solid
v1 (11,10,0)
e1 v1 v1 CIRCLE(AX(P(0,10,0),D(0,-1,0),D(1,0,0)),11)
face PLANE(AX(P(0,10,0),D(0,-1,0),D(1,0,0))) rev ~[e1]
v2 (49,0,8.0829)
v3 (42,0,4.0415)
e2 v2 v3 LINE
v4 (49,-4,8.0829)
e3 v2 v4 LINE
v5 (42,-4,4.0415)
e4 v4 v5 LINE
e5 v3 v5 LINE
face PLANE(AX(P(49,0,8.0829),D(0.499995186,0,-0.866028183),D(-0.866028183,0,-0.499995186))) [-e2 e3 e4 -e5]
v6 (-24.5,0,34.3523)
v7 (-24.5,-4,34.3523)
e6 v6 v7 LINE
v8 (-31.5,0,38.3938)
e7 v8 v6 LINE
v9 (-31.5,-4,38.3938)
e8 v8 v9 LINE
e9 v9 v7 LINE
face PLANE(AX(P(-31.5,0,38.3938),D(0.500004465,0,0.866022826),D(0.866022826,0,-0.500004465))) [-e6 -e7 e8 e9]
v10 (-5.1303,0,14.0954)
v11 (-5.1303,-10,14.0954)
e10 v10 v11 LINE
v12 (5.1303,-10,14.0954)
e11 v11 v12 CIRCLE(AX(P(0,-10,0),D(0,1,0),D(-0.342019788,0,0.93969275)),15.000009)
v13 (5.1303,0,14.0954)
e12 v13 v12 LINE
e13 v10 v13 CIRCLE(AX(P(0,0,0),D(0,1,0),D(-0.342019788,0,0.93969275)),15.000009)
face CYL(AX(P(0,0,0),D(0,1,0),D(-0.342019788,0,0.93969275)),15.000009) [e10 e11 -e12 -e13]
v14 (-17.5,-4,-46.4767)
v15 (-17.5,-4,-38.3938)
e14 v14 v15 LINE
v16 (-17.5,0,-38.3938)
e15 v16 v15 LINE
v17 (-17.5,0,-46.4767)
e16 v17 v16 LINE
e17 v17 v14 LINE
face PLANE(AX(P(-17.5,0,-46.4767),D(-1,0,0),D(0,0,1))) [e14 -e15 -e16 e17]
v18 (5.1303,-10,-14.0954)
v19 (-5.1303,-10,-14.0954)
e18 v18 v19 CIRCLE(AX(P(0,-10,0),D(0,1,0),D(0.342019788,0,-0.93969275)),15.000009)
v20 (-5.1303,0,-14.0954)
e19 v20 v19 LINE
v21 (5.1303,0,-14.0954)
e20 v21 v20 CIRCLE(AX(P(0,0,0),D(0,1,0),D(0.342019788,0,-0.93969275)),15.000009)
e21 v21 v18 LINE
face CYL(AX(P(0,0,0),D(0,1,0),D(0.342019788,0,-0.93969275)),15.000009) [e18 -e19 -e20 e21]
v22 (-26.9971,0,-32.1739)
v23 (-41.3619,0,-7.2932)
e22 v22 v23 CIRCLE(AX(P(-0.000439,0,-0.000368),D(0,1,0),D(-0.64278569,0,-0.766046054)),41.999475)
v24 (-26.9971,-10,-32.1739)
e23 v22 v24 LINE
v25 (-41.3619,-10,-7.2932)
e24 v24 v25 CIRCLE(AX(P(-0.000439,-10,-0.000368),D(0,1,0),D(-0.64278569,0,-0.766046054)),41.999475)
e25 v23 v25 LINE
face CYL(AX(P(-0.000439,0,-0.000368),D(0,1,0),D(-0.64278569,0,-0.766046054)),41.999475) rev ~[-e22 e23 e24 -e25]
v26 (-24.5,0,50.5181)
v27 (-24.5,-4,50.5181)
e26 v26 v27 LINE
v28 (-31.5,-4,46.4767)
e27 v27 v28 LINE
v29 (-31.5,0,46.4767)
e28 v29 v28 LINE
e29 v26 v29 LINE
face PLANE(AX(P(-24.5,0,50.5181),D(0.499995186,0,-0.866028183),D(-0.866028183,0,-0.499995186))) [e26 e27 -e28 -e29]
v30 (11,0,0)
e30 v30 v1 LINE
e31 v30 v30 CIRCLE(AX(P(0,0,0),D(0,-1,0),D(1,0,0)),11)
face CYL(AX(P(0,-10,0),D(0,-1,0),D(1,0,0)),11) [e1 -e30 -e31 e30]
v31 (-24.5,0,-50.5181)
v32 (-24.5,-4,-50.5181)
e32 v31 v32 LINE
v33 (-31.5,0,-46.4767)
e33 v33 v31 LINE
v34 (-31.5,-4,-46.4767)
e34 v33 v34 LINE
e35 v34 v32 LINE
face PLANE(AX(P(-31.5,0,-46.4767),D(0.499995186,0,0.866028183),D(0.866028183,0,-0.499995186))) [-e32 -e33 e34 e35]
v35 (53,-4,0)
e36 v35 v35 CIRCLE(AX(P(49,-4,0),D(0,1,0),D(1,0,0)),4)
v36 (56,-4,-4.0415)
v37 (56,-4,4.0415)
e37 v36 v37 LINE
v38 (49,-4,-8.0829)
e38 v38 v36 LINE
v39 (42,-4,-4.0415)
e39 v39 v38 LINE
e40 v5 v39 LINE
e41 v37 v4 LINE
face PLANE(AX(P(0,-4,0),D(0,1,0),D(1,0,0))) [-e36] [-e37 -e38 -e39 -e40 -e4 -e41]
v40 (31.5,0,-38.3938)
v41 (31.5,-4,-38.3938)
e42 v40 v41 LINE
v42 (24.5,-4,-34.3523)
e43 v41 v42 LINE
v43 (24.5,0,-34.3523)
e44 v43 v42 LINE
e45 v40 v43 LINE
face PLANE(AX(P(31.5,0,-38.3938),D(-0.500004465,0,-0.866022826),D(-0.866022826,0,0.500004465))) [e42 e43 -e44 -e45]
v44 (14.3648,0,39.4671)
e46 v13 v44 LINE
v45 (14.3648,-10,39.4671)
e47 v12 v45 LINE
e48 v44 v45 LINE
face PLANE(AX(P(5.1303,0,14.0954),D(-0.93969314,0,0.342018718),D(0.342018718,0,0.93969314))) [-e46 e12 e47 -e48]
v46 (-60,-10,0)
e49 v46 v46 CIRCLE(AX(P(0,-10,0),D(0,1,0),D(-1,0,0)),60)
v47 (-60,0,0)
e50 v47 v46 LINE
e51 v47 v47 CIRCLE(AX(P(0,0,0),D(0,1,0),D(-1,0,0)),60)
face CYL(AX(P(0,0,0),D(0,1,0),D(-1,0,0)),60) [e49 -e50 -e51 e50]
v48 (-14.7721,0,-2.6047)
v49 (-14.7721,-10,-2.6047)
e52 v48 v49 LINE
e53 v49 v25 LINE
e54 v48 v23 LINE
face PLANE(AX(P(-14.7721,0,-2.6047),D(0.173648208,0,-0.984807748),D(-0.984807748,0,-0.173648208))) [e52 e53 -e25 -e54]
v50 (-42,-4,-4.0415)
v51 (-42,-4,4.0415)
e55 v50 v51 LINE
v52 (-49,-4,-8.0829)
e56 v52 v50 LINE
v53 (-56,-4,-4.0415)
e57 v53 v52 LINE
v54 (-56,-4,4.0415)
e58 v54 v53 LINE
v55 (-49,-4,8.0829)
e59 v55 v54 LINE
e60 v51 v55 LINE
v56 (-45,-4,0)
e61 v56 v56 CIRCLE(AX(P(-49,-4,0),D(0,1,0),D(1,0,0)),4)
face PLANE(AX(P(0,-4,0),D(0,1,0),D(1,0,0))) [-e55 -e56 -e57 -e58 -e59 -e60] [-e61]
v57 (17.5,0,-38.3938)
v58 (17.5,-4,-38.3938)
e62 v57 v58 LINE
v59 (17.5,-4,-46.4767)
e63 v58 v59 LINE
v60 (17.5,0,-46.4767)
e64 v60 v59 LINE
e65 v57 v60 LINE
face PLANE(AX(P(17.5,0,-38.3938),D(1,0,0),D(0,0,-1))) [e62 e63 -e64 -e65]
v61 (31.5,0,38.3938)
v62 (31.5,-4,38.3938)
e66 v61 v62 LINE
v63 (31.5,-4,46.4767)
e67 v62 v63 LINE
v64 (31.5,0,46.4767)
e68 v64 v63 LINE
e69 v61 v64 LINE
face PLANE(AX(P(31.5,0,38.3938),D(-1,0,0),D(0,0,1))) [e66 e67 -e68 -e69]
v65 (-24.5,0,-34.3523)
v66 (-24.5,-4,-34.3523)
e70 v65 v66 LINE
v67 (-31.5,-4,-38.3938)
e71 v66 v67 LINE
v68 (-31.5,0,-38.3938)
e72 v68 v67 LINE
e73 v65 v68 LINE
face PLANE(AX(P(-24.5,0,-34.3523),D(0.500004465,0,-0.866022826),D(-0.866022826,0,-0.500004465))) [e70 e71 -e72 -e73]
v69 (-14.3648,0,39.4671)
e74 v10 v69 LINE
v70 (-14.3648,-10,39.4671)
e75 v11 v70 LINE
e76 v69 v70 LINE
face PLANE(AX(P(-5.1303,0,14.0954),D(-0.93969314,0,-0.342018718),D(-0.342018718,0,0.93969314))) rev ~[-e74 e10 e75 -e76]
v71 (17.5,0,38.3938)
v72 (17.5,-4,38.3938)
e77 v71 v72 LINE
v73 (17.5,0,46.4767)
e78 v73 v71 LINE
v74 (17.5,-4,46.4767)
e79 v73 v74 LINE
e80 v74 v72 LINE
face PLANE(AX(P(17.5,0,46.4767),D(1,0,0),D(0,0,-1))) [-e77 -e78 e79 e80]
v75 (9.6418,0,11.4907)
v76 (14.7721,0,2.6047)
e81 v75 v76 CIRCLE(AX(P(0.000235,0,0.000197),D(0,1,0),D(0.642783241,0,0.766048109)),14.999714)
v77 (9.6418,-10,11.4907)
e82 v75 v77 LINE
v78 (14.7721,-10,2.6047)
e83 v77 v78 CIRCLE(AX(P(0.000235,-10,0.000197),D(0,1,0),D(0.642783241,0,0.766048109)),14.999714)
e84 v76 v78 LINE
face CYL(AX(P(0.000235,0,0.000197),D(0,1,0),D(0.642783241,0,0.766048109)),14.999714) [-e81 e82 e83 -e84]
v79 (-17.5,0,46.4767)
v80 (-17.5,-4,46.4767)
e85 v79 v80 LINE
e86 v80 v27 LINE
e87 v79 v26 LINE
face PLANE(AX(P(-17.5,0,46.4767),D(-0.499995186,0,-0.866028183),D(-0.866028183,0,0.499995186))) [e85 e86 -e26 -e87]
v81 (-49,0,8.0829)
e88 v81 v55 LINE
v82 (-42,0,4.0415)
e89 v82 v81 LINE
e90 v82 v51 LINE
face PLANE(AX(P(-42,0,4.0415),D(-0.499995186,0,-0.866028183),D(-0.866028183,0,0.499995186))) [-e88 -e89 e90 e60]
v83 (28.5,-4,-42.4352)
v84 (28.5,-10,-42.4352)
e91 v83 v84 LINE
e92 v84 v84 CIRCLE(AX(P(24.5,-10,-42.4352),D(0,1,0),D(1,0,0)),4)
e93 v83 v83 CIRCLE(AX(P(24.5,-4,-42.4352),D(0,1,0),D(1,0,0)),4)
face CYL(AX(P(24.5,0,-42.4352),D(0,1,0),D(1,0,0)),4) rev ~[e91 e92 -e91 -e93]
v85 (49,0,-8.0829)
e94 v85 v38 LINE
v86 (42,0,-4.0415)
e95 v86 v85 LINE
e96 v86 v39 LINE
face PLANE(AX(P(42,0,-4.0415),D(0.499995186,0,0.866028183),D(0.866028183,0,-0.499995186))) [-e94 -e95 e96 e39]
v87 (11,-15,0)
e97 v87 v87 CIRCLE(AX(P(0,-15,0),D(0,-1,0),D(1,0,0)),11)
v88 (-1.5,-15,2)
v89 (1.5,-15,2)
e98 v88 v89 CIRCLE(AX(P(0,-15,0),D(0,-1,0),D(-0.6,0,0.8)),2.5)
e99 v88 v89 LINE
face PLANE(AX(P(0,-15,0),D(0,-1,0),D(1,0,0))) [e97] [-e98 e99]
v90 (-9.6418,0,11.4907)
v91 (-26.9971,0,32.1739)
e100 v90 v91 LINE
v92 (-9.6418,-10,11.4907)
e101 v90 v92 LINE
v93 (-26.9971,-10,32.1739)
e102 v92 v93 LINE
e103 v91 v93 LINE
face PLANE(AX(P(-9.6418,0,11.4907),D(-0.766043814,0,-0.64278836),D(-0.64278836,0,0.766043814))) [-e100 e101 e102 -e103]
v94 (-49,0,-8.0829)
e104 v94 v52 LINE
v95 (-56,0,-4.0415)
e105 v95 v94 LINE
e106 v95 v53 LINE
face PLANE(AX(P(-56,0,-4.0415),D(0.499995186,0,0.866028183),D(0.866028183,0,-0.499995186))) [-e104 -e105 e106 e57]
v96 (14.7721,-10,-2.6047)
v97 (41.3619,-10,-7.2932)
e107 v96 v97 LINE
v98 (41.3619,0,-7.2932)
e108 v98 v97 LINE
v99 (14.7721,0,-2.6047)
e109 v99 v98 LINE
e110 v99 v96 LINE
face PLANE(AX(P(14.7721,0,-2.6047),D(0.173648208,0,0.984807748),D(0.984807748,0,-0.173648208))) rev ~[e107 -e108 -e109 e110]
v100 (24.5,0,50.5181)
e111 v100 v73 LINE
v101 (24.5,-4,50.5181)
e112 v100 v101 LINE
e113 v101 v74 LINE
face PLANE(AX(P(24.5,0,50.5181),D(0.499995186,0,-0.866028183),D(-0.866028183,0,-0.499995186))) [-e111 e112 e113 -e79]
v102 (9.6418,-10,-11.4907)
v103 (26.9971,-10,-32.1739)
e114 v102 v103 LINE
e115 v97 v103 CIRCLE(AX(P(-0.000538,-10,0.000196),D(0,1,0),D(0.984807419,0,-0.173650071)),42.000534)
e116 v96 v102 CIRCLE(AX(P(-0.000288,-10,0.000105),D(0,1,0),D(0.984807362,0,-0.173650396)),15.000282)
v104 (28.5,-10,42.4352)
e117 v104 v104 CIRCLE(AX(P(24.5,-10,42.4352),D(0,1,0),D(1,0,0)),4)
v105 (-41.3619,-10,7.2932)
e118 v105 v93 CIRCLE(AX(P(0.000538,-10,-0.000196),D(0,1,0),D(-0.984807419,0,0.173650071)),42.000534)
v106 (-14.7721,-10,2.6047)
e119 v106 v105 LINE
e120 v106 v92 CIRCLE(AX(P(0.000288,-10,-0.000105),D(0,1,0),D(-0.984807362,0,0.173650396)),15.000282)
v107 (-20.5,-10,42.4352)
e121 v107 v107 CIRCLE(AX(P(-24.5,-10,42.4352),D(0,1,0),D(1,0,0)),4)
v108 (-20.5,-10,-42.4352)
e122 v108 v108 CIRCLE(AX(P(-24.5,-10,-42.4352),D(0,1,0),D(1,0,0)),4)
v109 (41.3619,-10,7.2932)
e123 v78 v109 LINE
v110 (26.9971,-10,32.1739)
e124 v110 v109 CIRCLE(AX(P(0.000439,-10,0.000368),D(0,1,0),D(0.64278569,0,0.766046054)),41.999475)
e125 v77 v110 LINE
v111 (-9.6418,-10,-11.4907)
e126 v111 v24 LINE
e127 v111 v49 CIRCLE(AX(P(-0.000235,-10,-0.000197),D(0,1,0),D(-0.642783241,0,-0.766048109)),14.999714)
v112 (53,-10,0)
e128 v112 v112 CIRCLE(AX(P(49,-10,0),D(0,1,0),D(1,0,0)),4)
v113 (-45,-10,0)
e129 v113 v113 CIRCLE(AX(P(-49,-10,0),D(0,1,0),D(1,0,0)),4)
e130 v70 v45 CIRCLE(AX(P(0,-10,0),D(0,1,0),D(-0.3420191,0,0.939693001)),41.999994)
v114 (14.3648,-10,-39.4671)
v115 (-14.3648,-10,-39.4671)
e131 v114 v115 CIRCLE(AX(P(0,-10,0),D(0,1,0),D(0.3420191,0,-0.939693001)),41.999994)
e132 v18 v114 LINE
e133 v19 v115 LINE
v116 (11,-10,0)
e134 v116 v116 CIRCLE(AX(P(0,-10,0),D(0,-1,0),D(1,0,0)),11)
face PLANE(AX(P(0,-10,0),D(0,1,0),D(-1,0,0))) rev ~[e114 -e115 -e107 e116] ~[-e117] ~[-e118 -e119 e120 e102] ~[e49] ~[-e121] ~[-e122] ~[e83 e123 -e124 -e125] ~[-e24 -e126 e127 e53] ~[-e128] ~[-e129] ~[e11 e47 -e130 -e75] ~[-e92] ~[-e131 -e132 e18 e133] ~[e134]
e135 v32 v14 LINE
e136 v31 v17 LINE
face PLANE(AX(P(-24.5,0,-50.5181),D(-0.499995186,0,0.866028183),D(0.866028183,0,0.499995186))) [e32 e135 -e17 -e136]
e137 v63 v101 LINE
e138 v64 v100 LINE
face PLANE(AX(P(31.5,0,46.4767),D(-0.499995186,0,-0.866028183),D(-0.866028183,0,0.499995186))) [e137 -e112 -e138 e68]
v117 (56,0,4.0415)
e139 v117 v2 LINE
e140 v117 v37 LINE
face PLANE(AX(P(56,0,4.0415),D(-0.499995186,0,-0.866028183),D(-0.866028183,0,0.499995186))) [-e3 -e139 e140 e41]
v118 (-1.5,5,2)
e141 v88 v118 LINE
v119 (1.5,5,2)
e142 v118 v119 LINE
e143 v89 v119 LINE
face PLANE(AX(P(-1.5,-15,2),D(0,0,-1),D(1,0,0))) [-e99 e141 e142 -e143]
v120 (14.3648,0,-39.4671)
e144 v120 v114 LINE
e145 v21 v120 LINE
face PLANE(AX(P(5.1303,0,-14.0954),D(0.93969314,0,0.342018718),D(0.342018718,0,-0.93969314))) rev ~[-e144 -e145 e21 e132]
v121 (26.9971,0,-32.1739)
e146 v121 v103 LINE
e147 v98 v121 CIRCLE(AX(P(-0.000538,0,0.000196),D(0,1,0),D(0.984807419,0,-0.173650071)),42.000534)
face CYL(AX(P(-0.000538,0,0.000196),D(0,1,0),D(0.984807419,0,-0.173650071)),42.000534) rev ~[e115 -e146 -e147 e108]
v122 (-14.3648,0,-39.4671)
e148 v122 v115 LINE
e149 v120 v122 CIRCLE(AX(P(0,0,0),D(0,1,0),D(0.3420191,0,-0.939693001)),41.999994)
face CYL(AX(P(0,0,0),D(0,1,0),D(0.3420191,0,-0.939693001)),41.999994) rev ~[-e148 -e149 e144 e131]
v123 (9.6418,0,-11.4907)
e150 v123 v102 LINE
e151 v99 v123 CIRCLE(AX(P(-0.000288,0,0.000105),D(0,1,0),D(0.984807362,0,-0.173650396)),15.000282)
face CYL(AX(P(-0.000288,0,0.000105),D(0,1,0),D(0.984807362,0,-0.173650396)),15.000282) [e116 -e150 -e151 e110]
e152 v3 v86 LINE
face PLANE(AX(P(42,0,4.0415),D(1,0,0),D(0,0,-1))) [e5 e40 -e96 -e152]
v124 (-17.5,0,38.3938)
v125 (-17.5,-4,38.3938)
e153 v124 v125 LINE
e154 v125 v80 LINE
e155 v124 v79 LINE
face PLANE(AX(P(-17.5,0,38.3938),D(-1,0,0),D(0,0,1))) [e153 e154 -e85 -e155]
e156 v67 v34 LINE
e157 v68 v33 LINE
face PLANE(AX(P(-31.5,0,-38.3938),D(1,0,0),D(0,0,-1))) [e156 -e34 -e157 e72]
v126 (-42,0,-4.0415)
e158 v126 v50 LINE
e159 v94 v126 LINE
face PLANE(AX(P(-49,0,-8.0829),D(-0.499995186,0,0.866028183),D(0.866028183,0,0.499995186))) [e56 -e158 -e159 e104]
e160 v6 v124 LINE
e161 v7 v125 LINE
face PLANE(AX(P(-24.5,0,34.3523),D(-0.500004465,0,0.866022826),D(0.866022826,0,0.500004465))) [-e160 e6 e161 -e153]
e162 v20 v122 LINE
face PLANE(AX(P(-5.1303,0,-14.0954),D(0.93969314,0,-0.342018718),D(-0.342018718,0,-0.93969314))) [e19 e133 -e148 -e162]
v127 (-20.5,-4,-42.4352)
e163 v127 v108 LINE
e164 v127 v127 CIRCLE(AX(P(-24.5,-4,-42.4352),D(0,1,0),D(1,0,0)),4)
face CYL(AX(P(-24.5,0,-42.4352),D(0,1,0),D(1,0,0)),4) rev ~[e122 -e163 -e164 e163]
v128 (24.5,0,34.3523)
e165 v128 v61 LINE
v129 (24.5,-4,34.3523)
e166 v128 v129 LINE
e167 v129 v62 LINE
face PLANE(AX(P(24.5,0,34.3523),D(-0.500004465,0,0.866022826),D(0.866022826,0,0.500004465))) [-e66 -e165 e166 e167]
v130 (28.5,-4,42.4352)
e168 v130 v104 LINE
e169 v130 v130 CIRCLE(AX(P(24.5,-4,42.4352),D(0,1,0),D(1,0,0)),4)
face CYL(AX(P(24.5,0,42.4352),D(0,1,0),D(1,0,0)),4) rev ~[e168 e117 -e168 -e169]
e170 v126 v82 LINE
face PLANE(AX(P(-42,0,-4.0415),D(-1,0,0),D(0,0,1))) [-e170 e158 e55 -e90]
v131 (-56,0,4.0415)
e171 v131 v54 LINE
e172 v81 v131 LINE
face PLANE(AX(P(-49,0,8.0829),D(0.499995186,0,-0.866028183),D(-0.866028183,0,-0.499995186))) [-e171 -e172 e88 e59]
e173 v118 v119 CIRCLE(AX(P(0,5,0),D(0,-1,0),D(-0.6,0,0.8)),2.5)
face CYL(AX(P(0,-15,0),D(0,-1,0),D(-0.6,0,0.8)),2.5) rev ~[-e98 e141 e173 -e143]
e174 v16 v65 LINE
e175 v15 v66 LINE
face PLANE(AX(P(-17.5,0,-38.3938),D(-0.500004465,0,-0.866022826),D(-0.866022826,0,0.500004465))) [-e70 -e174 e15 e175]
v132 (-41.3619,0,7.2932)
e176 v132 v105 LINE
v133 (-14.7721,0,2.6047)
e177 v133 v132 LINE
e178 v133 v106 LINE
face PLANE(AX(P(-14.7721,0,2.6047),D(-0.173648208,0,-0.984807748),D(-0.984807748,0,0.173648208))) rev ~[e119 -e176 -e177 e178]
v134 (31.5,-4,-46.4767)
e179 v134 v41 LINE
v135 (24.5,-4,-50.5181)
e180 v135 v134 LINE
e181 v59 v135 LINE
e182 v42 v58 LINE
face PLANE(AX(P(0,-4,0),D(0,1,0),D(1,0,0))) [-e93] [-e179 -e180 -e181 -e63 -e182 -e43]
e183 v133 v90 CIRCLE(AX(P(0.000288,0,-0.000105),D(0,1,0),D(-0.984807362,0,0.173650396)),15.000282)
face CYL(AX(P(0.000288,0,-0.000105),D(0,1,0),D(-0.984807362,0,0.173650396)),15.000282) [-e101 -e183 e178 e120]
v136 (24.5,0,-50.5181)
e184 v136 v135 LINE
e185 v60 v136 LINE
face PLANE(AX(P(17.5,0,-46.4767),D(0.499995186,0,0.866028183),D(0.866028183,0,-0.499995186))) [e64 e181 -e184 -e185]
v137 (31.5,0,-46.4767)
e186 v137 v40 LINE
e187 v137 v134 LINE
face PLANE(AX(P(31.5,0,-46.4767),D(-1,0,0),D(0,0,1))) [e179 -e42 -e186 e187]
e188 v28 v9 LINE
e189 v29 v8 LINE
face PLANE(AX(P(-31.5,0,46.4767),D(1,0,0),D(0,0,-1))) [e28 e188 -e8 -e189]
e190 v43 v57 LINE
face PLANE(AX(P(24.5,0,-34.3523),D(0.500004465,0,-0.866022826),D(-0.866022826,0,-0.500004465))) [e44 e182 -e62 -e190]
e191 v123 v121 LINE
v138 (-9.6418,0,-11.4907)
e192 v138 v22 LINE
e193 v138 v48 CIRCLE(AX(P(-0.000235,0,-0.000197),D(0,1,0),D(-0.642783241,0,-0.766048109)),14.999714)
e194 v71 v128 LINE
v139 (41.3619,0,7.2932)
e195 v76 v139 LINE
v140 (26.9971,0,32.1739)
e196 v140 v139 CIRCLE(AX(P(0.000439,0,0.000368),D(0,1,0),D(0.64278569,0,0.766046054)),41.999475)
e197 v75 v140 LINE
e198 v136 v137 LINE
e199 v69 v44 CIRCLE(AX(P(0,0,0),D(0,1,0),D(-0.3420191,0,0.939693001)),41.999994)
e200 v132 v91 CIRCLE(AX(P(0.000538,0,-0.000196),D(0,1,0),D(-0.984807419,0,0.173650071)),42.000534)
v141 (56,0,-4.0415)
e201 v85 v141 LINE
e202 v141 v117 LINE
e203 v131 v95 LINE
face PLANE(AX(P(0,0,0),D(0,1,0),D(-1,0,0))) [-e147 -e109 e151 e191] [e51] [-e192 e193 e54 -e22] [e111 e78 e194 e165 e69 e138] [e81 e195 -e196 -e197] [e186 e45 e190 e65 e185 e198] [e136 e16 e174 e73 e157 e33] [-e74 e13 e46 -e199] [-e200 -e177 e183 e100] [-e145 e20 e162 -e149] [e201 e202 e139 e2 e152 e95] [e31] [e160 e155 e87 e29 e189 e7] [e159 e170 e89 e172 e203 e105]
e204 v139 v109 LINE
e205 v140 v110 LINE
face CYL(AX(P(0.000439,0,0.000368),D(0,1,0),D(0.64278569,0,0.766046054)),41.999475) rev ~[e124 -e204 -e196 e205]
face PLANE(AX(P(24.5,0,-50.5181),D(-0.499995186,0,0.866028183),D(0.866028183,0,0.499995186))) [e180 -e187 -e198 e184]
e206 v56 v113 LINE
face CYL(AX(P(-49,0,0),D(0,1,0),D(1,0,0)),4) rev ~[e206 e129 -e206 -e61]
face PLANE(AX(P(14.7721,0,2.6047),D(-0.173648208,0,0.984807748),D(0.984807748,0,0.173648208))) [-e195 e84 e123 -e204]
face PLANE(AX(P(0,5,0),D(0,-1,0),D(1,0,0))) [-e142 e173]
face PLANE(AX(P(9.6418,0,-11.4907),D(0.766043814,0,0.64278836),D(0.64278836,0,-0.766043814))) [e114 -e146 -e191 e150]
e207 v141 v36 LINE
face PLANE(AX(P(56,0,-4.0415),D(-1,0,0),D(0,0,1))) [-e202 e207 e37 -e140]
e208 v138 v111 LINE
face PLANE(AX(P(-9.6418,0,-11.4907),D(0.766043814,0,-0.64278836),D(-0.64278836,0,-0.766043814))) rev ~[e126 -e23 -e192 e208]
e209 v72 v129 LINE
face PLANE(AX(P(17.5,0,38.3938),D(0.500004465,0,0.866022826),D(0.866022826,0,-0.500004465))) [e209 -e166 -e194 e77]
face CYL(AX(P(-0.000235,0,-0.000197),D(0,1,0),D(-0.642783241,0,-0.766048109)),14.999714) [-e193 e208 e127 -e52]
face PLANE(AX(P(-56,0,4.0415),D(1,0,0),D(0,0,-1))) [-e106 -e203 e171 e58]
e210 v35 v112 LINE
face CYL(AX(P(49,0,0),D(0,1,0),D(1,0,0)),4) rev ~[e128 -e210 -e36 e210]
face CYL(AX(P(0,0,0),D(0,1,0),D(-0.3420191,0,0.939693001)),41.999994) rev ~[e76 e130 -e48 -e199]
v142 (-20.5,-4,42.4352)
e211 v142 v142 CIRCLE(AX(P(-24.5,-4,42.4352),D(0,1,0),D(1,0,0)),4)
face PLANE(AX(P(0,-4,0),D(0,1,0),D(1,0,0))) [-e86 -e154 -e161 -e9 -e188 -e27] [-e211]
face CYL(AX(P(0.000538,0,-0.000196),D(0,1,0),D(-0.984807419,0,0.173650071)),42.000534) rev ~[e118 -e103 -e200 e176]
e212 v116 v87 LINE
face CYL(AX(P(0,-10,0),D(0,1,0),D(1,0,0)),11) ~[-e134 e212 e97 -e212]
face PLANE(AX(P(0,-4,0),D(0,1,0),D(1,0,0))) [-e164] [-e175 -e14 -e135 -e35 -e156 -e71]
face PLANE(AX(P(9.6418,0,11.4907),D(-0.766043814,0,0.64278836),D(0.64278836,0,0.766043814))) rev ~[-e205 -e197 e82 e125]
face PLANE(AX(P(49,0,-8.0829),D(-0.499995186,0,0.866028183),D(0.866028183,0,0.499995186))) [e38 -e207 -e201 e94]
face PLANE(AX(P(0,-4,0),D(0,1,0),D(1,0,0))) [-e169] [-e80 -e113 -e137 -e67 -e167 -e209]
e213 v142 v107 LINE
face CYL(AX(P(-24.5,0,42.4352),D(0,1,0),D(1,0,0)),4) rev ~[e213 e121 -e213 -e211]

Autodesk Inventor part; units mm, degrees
ref_plane "YZ Plane" through (0, 0, 0) normal (1, 0, 0) x (0, 1, 0)
ref_plane "XZ Plane" through (0, 0, 0) normal (0, 1, 0) x (-1, 0, 0)
ref_plane "XY Plane" through (0, 0, 0) normal (0, 0, 1) x (1, 0, 0)
sketch "Sketch1" plane through (0, 0, 0) normal (0, 1, 0) x (-1, 0, 0)
  circle A0 centre (0, 0) radius 60
  line L0 (14.7721, 2.6047) -> (41.3619, 7.2932)
  line L1 (14.7721, -2.6047) -> (41.3619, -7.2932)
  line L2 (0, 0) -> (115.9423, 0) construction
  line L3 (0, 0) -> (87.3255, -15.3978) construction
  line L4 (5.1303, 14.0954) -> (14.3648, 39.4671)
  line L5 (9.6418, 11.4907) -> (26.9971, 32.1739)
  line L6 (-9.6418, 11.4907) -> (-26.9971, 32.1739)
  line L7 (-5.1303, 14.0954) -> (-14.3648, 39.4671)
  line L8 (-14.7721, -2.6047) -> (-41.3619, -7.2932)
  line L9 (-14.7721, 2.6047) -> (-41.3619, 7.2932)
  line L10 (-5.1303, -14.0954) -> (-14.3648, -39.4671)
  line L11 (-9.6418, -11.4907) -> (-26.9971, -32.1739)
  line L12 (9.6418, -11.4907) -> (26.9971, -32.1739)
  line L13 (5.1303, -14.0954) -> (14.3648, -39.4671)
  arc A1 (41.3619, 7.2932) -> (26.9971, 32.1739) centre (0, 0) ccw
  arc A2 (26.9971, -32.1739) -> (41.3619, -7.2932) centre (0, 0) ccw
  arc A3 (-14.3648, -39.4671) -> (14.3648, -39.4671) centre (0, 0) ccw
  arc A4 (-41.3619, -7.2932) -> (-26.9971, -32.1739) centre (0, 0) ccw
  arc A5 (14.3648, 39.4671) -> (-14.3648, 39.4671) centre (0, 0) ccw
  arc A6 (-26.9971, 32.1739) -> (-41.3619, 7.2932) centre (0, 0) ccw
  circle A7 centre (0, 0) radius 42 construction
  circle A8 centre (0, 0) radius 15 construction
  arc A9 (9.6418, -11.4907) -> (14.7721, -2.6047) centre (0, 0) ccw
  arc A10 (-5.1303, -14.0954) -> (5.1303, -14.0954) centre (0, 0) ccw
  arc A11 (-14.7721, -2.6047) -> (-9.6418, -11.4907) centre (0, 0) ccw
  arc A12 (-9.6418, 11.4907) -> (-14.7721, 2.6047) centre (0, 0) ccw
  arc A13 (14.7721, 2.6047) -> (9.6418, 11.4907) centre (0, 0) ccw
  arc A14 (5.1303, 14.0954) -> (-5.1303, 14.0954) centre (0, 0) ccw
  dimension "d12" = 30
  dimension "d13" = 84
  dimension "d0" = 120
  dimension "d3" = 20
  dimension "d4" = 10
  dimension "d10" = 360
extrude "Extrusion1" add sketch "Sketch1" against normal blind 10
sketch "Sketch2" plane through (0, 0, 0) normal (0, 1, 0) x (1, 0, 0)
  circle A0 centre (-49, 0) radius 4
  line L0 (0, 0) -> (-95.2262, 0) construction
  line L1 (-49, 8.0829) -> (-42, 4.0415)
  line L2 (-42, 4.0415) -> (-42, -4.0415)
  line L3 (-42, -4.0415) -> (-49, -8.0829)
  line L4 (-49, -8.0829) -> (-56, -4.0415)
  line L5 (-56, -4.0415) -> (-56, 4.0415)
  line L6 (-56, 4.0415) -> (-49, 8.0829)
  line L7 (0, 0) -> (0, 100.6491) construction
  circle A1 centre (-24.5, -42.4352) radius 4
  line L8 (-31.5, -38.3938) -> (-24.5, -34.3523)
  line L9 (-24.5, -34.3523) -> (-17.5, -38.3938)
  line L10 (-17.5, -38.3938) -> (-17.5, -46.4767)
  line L11 (-17.5, -46.4767) -> (-24.5, -50.5181)
  line L12 (-24.5, -50.5181) -> (-31.5, -46.4767)
  line L13 (-31.5, -46.4767) -> (-31.5, -38.3938)
  circle A2 centre (24.5, -42.4352) radius 4
  line L14 (17.5, -46.4767) -> (17.5, -38.3938)
  line L15 (17.5, -38.3938) -> (24.5, -34.3523)
  line L16 (24.5, -34.3523) -> (31.5, -38.3938)
  line L17 (31.5, -38.3938) -> (31.5, -46.4767)
  line L18 (31.5, -46.4767) -> (24.5, -50.5181)
  line L19 (24.5, -50.5181) -> (17.5, -46.4767)
  circle A3 centre (49, 0) radius 4
  line L20 (49, -8.0829) -> (42, -4.0415)
  line L21 (42, -4.0415) -> (42, 4.0415)
  line L22 (42, 4.0415) -> (49, 8.0829)
  line L23 (49, 8.0829) -> (56, 4.0415)
  line L24 (56, 4.0415) -> (56, -4.0415)
  line L25 (56, -4.0415) -> (49, -8.0829)
  circle A4 centre (24.5, 42.4352) radius 4
  line L26 (31.5, 38.3938) -> (24.5, 34.3523)
  line L27 (24.5, 34.3523) -> (17.5, 38.3938)
  line L28 (17.5, 38.3938) -> (17.5, 46.4767)
  line L29 (17.5, 46.4767) -> (24.5, 50.5181)
  line L30 (24.5, 50.5181) -> (31.5, 46.4767)
  line L31 (31.5, 46.4767) -> (31.5, 38.3938)
  circle A5 centre (-24.5, 42.4352) radius 4
  line L32 (-17.5, 46.4767) -> (-17.5, 38.3938)
  line L33 (-17.5, 38.3938) -> (-24.5, 34.3523)
  line L34 (-24.5, 34.3523) -> (-31.5, 38.3938)
  line L35 (-31.5, 38.3938) -> (-31.5, 46.4767)
  line L36 (-31.5, 46.4767) -> (-24.5, 50.5181)
  line L37 (-24.5, 50.5181) -> (-17.5, 46.4767)
  dimension "d16" = 8
  dimension "d17" = 49
  dimension "d18" = 14
  dimension "d21" = 360
extrude "Extrusion2" cut sketch "Sketch2" against normal blind 4 contours A0 | L1 L2 L3 L4 L5 L6 | A1 | L8 L9 L10 L11 L12 L13 | A2 | L14 L15 L16 L17 L18 L19 | A3 | L20 L21 L22 L23 L24 L25 | A4 | L26 L27 L28 L29 L30 L31 | A5 | L32 L33 L34 L35 L36 L37
extrude "Extrusion3" cut sketch "Sketch2" against normal through all contours A0 | A1 | A2 | A3 | A4 | A5
sketch "Sketch3" plane through (0, -10, 0) normal (0, -1, 0) x (1, 0, 0)
  circle A0 centre (0, 0) radius 11
  dimension "d27" = 22
extrude "Extrusion4" add sketch "Sketch3" along normal blind 5 and the other way blind 20
sketch "Sketch4" plane through (0, -15, 0) normal (0, -1, 0) x (1, 0, 0)
  arc A0 (-1.5, 2) -> (1.5, 2) centre (0, 0) ccw
  line L0 (-1.5, 2) -> (1.5, 2)
  dimension "d30" = 5
  dimension "d31" = 2
extrude "Extrusion5" cut sketch "Sketch4" against normal blind 20
properties part number "Reaction_wheel_3DPrint"
